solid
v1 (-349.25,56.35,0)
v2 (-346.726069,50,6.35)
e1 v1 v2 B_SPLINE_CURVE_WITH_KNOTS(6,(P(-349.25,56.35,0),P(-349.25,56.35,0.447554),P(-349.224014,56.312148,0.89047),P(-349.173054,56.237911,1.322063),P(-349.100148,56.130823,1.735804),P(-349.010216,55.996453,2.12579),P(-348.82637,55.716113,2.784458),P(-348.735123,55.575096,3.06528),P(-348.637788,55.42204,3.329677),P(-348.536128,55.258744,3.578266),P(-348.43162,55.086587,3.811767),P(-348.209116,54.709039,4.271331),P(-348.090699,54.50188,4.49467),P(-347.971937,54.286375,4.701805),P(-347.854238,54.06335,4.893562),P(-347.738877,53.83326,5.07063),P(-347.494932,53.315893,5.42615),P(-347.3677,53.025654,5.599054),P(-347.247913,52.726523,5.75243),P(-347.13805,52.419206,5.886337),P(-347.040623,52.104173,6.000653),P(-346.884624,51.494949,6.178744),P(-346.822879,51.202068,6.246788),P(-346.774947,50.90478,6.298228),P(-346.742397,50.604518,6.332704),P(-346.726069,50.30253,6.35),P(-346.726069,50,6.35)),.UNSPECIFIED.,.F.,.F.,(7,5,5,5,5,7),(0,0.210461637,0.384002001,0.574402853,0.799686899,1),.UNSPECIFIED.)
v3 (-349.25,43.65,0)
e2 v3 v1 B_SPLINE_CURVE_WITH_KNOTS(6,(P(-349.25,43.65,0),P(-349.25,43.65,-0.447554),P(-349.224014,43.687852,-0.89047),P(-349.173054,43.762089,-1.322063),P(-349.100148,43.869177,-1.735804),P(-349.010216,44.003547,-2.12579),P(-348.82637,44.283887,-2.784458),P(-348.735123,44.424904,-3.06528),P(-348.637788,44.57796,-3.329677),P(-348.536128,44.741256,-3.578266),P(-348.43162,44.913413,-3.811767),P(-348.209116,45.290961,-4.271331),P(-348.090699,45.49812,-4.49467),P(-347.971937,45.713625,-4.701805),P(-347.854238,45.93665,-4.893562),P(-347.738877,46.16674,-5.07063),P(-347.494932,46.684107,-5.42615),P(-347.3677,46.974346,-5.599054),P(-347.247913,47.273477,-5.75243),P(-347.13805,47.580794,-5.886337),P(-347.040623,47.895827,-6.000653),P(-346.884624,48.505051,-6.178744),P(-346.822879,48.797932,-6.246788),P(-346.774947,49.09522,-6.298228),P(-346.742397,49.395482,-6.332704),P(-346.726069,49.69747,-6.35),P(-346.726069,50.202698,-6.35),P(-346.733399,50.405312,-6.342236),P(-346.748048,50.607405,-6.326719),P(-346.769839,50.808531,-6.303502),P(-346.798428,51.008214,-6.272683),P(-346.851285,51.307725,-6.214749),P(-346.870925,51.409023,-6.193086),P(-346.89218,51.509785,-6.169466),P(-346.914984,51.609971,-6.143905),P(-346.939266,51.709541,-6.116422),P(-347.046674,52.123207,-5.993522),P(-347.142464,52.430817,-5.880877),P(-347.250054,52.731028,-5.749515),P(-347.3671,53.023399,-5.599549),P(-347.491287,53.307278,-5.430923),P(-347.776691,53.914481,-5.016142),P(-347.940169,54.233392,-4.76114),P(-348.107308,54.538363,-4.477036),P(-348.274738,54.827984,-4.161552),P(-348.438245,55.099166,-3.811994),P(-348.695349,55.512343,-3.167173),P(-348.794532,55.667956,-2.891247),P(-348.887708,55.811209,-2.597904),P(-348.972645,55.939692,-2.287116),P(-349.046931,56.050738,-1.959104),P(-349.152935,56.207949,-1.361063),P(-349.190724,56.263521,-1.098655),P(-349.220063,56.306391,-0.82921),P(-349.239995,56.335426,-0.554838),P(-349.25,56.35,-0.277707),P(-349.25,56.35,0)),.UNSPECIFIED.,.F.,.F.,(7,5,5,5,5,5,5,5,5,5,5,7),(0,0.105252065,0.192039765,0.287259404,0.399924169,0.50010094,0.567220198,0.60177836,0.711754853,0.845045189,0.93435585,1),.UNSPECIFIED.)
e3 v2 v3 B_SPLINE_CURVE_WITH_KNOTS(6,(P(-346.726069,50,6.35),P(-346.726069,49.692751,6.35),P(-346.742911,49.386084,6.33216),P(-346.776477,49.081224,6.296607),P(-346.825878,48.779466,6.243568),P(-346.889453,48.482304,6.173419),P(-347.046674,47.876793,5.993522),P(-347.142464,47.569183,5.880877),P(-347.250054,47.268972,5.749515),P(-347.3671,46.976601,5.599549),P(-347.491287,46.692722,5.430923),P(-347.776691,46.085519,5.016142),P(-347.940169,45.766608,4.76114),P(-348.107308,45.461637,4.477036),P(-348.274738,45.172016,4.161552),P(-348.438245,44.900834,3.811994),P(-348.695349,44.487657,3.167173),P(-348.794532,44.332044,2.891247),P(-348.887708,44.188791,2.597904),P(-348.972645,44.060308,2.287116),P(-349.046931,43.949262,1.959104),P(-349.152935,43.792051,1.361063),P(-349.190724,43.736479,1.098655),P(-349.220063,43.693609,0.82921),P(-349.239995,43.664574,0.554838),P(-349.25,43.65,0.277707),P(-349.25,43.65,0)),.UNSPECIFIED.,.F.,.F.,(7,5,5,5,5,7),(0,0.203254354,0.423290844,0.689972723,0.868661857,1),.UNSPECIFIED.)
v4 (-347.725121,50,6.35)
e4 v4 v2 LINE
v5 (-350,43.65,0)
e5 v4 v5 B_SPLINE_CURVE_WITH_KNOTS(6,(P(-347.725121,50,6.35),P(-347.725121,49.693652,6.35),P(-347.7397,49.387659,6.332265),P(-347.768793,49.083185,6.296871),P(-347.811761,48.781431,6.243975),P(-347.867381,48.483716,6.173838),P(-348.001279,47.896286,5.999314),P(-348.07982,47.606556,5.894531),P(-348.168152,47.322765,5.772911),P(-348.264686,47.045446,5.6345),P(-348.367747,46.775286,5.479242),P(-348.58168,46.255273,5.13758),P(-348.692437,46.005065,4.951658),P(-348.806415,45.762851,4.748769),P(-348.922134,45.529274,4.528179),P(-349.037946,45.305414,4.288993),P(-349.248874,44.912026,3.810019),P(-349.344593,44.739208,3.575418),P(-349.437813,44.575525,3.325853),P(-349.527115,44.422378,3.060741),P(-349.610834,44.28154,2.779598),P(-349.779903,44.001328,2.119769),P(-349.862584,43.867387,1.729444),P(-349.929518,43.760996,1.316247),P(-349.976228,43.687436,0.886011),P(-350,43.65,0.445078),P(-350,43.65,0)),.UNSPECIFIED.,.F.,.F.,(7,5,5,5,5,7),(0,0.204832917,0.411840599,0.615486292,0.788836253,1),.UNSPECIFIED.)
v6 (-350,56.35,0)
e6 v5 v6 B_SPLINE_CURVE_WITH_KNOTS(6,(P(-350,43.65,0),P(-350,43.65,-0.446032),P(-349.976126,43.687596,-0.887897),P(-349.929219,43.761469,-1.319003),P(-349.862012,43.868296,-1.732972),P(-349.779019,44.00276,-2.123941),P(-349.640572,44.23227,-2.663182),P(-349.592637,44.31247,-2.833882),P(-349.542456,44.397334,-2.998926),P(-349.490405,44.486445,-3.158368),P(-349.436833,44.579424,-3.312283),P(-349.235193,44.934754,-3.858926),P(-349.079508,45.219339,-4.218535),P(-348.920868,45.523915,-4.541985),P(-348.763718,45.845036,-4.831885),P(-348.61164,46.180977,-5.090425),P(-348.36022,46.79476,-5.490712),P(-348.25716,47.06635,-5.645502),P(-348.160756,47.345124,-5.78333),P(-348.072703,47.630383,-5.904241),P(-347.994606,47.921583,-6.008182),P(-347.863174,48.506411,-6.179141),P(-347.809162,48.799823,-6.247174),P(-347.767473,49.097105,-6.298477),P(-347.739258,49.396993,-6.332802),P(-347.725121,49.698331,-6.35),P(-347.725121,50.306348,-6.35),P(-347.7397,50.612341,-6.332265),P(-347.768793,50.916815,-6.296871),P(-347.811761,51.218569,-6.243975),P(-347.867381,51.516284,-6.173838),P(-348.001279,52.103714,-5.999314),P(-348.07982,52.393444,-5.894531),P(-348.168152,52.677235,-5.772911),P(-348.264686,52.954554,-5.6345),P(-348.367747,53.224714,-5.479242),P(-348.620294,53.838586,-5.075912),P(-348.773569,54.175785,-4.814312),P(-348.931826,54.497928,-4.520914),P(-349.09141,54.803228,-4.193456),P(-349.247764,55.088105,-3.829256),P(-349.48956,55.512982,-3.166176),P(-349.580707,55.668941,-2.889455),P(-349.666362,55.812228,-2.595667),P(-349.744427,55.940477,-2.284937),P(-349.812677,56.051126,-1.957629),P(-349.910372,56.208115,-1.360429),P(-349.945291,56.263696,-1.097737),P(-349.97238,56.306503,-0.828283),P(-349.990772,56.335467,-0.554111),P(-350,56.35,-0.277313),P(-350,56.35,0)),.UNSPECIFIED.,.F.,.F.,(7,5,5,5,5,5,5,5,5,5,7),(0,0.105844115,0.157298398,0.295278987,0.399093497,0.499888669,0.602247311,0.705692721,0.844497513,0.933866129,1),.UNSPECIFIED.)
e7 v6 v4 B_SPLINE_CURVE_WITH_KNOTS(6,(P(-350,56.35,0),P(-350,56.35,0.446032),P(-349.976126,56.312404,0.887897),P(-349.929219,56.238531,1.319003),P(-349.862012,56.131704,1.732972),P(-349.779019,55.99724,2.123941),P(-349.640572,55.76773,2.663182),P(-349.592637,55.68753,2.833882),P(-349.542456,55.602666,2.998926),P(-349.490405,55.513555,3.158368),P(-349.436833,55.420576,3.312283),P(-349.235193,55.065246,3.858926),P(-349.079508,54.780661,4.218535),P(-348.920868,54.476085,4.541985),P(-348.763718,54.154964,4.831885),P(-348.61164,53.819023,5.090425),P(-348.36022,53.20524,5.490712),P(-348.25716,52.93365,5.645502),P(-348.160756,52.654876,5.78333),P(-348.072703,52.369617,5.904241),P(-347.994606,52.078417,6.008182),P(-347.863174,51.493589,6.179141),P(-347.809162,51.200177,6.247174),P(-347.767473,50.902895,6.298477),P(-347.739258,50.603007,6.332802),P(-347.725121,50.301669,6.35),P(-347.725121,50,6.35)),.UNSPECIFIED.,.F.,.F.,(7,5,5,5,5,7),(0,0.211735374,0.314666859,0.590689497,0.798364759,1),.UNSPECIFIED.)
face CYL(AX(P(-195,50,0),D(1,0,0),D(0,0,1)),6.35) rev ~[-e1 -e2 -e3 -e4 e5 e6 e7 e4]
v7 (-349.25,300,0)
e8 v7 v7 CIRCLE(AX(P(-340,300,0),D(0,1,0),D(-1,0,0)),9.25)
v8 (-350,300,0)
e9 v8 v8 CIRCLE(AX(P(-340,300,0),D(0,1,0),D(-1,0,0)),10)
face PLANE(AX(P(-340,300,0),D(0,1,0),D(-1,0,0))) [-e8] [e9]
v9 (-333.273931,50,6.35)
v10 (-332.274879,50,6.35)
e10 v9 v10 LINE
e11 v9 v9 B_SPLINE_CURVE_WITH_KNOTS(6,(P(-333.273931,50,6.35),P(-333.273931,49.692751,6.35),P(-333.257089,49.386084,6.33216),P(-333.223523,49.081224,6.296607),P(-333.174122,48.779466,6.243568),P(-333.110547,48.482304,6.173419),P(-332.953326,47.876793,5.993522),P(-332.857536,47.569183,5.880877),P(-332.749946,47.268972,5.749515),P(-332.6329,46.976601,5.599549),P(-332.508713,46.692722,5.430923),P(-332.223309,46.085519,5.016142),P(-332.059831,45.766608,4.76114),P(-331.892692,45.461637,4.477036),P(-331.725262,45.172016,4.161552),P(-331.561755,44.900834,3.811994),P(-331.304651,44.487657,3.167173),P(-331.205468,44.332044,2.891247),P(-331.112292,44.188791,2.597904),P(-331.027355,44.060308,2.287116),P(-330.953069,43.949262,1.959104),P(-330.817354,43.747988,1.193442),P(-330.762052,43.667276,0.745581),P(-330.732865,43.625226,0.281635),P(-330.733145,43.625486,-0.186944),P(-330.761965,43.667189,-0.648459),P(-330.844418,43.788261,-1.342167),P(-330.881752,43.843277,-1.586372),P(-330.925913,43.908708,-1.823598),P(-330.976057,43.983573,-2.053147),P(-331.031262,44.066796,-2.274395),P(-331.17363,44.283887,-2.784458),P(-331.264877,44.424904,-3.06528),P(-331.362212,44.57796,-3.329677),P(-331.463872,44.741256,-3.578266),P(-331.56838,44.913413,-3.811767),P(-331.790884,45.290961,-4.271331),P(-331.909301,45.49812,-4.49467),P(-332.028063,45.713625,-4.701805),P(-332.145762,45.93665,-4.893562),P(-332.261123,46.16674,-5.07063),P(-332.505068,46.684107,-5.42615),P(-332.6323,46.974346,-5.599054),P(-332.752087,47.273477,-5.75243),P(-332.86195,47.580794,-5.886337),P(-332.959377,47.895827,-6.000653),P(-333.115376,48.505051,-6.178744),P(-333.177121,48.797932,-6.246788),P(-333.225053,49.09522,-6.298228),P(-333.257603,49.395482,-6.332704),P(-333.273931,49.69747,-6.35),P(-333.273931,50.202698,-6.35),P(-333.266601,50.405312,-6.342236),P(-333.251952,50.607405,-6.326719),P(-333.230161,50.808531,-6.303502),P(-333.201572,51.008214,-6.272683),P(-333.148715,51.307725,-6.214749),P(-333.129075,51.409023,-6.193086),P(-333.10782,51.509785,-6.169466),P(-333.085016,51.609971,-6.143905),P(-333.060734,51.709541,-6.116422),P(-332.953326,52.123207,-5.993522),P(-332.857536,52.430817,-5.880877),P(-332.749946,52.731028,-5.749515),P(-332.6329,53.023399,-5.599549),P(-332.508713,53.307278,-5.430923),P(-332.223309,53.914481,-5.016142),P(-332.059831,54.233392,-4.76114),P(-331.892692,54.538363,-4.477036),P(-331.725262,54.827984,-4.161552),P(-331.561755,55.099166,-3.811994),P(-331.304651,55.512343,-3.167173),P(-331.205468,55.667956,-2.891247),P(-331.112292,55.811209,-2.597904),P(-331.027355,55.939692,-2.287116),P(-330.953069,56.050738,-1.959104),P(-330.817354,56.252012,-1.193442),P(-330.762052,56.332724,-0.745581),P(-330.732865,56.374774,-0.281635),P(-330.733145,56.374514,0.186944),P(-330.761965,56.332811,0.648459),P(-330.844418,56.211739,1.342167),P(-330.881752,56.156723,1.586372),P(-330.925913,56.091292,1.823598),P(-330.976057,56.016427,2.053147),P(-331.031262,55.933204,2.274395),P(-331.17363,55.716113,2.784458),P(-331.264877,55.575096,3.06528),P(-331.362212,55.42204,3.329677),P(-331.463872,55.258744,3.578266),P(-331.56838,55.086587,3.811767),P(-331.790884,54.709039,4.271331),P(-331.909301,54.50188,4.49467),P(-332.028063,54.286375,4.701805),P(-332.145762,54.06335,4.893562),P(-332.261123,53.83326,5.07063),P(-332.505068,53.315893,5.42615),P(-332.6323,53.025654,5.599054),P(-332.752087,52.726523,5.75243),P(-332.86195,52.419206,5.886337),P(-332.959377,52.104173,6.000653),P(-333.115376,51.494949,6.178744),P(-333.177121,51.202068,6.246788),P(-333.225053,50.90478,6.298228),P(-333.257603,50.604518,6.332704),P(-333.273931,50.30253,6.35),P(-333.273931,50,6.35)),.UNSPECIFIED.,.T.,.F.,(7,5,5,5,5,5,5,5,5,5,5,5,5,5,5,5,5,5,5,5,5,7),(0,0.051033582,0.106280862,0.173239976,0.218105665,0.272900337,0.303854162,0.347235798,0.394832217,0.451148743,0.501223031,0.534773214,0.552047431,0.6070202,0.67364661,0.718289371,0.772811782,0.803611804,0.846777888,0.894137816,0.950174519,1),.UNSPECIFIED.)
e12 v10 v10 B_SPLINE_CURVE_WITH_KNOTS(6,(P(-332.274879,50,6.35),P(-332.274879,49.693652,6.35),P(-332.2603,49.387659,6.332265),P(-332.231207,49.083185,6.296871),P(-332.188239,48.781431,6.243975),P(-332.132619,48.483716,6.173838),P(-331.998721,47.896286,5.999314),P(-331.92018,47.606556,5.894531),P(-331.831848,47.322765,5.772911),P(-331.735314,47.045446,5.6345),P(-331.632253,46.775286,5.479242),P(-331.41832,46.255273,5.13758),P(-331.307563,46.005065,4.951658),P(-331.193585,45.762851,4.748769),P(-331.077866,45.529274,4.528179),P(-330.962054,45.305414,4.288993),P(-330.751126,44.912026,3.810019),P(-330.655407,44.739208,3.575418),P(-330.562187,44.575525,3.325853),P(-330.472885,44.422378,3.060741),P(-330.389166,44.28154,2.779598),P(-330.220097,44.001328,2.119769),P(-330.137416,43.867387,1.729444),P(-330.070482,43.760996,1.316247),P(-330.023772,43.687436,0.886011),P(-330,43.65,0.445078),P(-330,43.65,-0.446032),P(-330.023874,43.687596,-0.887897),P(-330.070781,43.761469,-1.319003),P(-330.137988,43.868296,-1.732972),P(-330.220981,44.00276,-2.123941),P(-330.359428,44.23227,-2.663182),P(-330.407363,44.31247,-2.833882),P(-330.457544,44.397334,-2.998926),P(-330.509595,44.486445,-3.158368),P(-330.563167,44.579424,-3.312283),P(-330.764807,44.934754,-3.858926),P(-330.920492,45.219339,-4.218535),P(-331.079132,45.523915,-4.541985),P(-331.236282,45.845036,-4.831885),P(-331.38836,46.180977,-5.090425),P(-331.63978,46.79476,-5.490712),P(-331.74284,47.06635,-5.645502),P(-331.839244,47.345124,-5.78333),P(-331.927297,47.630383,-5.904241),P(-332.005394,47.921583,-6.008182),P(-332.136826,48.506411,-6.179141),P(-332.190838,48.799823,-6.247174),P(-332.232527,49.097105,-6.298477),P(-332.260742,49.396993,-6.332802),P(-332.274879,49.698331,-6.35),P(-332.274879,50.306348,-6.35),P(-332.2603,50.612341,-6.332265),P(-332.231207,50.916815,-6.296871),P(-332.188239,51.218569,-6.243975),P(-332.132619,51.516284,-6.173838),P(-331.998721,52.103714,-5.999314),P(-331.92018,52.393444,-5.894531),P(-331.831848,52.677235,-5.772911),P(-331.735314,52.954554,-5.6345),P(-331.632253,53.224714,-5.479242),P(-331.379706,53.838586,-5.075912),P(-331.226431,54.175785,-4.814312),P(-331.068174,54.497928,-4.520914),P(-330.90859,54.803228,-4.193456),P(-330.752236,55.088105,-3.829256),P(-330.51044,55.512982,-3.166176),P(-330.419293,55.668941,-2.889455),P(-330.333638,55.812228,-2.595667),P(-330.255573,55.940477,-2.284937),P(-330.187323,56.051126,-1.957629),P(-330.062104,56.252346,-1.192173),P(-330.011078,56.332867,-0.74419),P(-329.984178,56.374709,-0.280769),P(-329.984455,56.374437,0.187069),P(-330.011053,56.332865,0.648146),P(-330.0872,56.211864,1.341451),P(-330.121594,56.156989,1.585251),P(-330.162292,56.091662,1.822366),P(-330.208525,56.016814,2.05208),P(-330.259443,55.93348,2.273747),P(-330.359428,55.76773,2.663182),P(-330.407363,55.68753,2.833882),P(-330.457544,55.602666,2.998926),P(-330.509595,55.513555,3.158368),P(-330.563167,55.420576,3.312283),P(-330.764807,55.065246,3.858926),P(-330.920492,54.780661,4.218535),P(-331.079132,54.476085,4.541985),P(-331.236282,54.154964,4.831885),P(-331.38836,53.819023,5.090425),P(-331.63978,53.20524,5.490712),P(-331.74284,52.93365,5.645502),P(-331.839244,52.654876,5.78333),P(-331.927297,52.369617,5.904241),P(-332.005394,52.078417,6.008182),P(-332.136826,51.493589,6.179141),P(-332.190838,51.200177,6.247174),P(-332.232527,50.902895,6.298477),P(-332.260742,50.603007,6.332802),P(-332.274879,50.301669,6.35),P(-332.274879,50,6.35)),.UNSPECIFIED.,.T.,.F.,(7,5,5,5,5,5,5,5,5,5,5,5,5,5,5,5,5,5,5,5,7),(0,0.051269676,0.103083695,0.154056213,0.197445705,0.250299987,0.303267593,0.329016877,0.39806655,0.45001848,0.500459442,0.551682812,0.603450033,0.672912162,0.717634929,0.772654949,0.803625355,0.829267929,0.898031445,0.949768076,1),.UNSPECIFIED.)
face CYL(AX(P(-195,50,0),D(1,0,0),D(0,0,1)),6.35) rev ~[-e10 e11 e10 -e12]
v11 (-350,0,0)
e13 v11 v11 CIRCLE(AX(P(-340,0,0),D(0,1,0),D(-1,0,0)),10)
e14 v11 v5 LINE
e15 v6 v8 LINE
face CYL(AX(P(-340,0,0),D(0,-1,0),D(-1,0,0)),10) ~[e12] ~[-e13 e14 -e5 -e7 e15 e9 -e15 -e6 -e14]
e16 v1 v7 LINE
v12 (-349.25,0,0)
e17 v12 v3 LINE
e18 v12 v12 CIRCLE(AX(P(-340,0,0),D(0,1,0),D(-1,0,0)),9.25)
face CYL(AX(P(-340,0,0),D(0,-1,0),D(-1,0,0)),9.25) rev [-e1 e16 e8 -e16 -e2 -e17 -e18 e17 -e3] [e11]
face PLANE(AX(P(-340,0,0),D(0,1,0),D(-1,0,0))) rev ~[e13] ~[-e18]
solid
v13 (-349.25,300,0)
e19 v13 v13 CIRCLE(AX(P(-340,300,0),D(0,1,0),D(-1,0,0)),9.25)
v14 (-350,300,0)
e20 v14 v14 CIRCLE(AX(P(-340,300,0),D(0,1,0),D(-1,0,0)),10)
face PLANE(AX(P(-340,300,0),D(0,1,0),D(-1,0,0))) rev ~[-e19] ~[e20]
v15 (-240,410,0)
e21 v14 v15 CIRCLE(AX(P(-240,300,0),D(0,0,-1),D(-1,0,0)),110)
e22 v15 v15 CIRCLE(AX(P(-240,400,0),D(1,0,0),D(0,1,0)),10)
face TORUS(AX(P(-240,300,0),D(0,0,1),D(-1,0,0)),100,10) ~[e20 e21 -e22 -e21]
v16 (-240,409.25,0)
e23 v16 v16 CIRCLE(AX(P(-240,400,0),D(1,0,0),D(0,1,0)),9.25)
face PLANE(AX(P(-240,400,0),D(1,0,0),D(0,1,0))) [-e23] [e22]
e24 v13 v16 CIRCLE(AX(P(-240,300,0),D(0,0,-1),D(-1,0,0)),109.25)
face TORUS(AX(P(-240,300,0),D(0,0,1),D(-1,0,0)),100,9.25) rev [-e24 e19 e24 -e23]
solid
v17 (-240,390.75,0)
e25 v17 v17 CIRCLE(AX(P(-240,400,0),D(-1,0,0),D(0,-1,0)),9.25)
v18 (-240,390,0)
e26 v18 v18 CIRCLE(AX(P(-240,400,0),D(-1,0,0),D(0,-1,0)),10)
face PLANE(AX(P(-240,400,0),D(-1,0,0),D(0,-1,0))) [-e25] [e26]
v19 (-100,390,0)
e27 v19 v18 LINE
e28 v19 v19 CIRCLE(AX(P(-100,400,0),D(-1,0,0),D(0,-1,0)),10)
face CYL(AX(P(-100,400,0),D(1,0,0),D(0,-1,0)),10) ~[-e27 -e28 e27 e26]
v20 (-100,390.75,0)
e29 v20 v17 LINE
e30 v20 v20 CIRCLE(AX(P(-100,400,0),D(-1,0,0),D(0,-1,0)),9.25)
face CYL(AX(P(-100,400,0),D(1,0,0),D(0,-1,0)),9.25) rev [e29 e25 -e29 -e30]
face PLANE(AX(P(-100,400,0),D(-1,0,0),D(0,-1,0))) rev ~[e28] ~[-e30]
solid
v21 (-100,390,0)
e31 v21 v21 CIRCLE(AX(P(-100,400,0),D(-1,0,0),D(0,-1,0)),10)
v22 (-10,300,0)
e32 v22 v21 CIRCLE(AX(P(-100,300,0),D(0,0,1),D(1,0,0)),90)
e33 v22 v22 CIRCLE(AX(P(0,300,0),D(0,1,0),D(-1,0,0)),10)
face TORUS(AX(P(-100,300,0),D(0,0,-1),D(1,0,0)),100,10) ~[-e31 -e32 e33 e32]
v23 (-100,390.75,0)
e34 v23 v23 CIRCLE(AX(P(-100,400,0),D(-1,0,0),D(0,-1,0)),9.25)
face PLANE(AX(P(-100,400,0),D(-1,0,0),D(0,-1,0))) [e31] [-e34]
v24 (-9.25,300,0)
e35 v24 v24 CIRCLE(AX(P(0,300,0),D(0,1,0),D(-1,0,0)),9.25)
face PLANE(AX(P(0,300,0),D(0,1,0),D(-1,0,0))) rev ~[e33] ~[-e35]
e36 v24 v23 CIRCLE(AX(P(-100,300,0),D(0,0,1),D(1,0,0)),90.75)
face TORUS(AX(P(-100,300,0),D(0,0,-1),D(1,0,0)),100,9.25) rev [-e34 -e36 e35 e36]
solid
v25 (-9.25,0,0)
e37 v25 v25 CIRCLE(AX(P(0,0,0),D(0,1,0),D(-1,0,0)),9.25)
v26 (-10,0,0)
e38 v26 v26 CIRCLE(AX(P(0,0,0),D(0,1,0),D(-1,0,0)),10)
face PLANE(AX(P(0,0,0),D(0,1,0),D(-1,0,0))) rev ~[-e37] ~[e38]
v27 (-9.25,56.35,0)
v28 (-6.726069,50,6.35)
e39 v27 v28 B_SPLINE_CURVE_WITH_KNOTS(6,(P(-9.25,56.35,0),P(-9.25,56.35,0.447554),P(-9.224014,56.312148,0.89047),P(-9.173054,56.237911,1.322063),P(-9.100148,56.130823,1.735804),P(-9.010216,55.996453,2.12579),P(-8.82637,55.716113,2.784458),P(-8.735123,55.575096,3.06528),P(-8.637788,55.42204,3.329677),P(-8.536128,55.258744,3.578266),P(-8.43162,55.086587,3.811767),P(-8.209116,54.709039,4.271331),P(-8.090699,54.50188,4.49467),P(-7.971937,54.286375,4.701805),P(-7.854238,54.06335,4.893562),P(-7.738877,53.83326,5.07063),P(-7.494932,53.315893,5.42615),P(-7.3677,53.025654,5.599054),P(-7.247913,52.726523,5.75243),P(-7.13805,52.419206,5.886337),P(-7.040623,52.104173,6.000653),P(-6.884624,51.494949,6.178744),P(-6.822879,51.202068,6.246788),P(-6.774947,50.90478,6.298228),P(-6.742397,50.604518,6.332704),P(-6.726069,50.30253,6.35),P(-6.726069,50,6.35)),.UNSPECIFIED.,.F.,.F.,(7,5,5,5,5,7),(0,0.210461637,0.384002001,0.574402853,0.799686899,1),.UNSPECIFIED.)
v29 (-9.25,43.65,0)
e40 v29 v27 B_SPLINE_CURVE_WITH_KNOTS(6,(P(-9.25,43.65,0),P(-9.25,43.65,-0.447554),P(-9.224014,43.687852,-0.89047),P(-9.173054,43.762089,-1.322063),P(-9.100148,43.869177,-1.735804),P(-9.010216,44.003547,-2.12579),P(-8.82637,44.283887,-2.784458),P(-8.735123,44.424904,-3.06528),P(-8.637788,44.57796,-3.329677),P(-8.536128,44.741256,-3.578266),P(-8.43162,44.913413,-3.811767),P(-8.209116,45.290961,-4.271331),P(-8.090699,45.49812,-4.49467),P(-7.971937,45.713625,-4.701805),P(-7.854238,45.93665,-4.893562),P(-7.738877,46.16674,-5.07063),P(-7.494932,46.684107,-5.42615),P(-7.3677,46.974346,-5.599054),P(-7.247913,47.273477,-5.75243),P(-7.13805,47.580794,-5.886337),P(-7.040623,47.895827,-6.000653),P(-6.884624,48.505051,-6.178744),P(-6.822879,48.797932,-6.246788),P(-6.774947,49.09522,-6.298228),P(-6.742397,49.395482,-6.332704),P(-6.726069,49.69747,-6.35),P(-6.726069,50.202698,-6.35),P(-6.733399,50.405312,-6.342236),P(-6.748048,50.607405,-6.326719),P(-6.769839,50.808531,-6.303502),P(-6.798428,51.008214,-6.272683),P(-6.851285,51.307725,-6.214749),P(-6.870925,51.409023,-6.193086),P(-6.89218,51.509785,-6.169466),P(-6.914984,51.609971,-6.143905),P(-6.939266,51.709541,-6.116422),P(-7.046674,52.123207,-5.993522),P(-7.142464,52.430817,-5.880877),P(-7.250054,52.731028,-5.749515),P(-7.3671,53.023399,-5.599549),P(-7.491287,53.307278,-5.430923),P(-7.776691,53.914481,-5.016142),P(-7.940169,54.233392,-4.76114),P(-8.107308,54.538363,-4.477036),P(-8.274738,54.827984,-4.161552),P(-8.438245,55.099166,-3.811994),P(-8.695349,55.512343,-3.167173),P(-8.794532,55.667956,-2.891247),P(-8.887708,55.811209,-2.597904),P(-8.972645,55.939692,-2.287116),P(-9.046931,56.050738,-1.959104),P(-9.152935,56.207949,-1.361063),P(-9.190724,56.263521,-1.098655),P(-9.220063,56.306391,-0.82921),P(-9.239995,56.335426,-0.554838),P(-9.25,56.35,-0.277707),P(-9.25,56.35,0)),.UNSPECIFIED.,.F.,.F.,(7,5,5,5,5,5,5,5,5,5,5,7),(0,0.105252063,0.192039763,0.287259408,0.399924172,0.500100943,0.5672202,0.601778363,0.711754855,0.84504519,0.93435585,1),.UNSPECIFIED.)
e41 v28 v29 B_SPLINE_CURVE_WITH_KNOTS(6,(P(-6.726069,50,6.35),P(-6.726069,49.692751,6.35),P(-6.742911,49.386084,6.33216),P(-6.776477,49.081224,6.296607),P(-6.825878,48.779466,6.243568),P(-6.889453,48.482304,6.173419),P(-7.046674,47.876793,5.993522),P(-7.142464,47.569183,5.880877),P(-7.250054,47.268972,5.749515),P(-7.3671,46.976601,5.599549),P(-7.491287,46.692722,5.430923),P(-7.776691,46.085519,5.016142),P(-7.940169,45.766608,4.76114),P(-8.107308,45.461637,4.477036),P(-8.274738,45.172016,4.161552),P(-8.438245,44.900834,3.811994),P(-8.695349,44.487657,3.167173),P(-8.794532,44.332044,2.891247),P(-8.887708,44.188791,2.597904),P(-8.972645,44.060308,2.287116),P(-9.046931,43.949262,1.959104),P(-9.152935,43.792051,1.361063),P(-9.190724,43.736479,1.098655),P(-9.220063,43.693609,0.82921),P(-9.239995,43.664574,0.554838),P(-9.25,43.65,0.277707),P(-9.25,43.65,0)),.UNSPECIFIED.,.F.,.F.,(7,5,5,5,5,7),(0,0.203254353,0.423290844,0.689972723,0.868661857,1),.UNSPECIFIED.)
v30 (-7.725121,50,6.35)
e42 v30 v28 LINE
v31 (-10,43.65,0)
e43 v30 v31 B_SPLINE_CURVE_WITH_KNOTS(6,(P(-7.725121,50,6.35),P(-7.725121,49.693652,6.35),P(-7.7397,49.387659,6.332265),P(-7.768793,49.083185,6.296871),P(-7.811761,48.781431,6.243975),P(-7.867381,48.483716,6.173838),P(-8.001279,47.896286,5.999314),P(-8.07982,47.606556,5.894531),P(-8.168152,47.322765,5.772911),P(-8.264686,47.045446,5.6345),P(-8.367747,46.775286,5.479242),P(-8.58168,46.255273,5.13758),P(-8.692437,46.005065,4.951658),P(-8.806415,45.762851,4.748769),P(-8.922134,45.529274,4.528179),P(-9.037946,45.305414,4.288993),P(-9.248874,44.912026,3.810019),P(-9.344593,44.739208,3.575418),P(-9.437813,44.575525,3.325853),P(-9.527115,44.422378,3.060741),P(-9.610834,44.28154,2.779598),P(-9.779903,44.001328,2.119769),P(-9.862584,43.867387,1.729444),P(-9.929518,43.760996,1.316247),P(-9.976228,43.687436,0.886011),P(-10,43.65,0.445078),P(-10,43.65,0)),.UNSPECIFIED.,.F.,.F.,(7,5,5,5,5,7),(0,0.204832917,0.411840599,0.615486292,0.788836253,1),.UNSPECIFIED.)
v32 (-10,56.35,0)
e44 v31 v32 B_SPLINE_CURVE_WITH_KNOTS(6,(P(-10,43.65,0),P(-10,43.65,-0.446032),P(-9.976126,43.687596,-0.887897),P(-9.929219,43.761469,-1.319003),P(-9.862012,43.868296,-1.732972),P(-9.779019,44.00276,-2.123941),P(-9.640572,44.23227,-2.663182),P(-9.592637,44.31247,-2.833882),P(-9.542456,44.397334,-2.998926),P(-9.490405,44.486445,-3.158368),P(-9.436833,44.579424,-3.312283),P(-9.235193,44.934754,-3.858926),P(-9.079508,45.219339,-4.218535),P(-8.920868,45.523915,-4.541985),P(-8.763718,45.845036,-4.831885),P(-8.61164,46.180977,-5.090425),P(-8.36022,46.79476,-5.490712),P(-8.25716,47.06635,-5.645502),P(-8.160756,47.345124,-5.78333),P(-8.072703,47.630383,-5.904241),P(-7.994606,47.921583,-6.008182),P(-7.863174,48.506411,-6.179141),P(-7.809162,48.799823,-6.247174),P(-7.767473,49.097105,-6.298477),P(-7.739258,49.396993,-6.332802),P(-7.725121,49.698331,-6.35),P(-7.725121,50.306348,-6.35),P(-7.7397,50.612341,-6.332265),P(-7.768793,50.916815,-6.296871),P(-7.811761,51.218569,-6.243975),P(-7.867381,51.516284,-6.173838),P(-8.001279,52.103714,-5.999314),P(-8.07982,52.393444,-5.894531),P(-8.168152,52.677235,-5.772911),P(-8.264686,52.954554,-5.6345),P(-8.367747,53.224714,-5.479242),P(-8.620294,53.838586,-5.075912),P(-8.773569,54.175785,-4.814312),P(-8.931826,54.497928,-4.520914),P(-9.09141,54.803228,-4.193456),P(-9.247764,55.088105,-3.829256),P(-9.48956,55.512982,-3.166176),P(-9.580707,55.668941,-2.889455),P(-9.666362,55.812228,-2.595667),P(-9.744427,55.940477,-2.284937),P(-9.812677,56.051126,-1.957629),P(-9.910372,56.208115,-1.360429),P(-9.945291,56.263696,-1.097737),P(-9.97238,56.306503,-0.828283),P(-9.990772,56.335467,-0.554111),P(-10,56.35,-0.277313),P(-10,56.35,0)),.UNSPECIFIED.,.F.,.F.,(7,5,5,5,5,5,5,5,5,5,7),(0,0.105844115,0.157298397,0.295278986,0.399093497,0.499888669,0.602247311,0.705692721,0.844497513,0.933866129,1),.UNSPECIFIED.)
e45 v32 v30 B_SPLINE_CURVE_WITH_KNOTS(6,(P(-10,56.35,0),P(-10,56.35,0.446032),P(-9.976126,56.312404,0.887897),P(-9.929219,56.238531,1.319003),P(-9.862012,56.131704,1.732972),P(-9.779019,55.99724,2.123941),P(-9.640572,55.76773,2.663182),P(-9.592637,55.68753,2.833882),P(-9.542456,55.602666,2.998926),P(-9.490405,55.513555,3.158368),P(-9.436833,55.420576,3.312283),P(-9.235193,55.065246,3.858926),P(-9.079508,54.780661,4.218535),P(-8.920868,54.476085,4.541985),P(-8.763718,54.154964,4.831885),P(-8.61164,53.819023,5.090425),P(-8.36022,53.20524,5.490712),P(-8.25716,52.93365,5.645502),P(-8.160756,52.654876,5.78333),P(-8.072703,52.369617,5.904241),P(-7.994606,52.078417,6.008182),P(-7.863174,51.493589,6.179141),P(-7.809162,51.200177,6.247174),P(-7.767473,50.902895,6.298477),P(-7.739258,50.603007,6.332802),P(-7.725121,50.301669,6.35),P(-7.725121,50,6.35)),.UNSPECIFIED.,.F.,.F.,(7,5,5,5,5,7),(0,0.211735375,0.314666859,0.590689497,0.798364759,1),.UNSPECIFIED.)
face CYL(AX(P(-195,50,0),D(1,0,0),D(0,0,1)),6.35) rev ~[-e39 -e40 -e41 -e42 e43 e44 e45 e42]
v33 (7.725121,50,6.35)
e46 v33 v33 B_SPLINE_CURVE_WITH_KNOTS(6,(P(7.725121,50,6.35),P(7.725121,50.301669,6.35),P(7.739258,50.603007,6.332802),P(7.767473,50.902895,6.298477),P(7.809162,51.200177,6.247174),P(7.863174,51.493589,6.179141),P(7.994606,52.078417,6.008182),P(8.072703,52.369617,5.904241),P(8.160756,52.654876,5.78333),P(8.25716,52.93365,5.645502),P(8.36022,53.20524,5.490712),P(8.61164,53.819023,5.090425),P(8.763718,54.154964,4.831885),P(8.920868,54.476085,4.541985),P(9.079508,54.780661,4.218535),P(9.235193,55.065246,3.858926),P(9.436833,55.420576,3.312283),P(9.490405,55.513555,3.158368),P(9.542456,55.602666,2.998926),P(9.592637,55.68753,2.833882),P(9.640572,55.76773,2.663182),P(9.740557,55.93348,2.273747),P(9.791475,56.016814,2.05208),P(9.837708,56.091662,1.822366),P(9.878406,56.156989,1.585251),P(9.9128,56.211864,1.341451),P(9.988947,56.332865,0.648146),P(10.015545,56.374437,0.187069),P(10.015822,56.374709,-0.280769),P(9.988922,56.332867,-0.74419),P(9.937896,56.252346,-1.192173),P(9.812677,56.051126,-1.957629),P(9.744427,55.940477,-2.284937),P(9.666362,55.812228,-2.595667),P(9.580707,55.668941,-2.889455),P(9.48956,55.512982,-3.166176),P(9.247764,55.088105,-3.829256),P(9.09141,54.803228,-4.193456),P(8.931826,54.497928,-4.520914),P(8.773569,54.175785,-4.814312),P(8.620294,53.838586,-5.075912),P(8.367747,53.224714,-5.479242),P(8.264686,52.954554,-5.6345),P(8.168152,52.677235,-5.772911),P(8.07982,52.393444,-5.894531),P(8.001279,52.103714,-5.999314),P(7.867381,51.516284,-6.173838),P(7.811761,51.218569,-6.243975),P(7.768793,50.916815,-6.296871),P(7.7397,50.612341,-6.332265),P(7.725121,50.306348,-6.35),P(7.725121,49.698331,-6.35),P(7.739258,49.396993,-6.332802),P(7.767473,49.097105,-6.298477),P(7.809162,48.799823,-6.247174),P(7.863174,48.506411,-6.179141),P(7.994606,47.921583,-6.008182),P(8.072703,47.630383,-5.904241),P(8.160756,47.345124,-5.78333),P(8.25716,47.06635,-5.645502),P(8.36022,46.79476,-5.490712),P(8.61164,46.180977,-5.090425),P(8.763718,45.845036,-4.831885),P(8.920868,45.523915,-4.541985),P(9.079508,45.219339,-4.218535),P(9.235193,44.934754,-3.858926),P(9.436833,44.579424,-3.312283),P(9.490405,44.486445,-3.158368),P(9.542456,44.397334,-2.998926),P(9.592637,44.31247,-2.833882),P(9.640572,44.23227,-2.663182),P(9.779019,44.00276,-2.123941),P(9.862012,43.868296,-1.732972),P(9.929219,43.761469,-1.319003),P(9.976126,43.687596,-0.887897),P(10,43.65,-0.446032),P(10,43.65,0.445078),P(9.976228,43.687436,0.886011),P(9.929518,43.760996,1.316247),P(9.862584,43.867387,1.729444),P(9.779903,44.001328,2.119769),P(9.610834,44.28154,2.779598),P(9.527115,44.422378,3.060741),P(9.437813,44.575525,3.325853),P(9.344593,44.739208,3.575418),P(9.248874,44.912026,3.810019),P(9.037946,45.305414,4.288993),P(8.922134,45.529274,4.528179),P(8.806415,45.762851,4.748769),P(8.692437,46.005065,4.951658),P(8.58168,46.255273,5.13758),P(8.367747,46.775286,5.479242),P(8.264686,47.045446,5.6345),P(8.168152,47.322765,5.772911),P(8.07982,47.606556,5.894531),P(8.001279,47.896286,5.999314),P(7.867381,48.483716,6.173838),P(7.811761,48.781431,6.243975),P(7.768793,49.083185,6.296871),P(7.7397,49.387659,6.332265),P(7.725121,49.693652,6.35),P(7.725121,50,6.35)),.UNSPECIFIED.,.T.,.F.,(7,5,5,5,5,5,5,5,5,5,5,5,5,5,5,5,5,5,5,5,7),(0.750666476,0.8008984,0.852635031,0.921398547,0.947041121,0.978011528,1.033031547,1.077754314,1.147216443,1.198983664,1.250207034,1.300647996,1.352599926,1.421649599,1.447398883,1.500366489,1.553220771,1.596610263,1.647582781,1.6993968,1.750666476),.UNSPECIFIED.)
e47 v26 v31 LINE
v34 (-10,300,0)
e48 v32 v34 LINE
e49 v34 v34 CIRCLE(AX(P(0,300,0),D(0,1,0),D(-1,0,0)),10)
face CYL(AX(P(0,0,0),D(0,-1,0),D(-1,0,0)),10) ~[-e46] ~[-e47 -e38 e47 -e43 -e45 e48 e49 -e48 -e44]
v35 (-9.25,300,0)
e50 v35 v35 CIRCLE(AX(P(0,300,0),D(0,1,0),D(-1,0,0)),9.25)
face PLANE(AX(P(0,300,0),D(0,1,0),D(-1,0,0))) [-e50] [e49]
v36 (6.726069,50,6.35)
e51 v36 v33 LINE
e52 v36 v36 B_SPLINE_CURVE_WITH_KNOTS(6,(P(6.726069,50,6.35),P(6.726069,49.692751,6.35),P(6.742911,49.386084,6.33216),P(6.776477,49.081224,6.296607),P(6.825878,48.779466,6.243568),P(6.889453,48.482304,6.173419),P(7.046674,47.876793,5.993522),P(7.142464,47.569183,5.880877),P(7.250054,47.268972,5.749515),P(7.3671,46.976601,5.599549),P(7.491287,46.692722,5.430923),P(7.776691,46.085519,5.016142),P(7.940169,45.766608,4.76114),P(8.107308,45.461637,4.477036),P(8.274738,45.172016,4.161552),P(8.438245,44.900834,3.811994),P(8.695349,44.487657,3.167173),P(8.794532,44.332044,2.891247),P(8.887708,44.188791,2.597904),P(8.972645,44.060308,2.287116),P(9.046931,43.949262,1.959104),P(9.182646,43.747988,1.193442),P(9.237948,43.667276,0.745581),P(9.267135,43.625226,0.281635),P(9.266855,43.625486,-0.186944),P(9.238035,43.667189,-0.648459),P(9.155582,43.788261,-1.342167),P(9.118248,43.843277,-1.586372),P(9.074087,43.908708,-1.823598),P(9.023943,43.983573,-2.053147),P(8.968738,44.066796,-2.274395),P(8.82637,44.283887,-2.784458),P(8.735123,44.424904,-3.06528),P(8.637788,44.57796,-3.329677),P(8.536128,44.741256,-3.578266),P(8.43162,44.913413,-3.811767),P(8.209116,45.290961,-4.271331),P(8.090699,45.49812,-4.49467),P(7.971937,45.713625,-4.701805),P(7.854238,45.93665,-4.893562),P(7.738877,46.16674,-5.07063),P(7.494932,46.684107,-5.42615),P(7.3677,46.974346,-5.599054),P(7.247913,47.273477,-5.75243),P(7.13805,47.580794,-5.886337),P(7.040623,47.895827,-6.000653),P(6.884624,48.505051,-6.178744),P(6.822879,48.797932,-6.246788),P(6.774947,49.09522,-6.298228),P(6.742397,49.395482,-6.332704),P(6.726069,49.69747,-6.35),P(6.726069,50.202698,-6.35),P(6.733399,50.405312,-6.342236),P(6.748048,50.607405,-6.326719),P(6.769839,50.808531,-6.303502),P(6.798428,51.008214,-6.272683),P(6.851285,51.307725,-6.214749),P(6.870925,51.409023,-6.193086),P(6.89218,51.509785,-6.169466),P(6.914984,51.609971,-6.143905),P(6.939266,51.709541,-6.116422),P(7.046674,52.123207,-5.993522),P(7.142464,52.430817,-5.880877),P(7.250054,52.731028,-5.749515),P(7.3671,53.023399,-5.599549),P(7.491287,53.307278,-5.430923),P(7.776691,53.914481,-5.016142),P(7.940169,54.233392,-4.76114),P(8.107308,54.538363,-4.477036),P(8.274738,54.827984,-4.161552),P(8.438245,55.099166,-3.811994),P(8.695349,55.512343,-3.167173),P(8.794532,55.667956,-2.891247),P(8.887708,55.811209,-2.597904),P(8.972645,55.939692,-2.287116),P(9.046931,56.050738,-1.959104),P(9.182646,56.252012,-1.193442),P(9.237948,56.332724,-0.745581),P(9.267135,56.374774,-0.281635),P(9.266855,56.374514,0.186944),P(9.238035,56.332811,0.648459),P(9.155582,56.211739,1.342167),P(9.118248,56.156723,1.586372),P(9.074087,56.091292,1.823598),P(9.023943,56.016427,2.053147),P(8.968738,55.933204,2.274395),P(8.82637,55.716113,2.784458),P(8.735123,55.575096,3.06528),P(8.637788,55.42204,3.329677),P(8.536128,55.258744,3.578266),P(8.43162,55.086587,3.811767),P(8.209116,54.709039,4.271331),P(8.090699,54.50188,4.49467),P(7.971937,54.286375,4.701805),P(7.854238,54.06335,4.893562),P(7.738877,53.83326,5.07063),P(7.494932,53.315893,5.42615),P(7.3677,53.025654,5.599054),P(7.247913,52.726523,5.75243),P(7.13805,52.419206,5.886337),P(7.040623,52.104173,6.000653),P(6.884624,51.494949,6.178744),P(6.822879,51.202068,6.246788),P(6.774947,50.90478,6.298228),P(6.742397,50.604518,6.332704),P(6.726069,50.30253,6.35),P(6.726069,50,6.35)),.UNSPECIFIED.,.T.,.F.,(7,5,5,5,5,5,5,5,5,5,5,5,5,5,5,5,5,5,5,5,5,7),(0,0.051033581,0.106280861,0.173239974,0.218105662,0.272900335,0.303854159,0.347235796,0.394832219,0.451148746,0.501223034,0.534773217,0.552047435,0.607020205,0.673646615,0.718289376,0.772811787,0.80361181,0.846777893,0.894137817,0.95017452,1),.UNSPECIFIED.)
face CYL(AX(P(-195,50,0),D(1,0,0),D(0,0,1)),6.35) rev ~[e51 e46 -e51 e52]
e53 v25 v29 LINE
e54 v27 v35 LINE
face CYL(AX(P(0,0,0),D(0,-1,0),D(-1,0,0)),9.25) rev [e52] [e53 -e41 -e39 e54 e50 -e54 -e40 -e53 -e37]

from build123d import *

# Parameters (mm, degrees)
SKETCH1_R                        = 10
SKETCH1_R_2                      = 9.25
ROUND_TUBE_DO20_DI18_5_1_DEPTH   = 300
SKETCH1_ON_SEGMENT_2_R           = 10
SKETCH1_ON_SEGMENT_2_R_2         = 9.25
ROUND_TUBE_DO20_DI18_5_1_2_ANGLE = 90
SKETCH1_ON_SEGMENT_3_R           = 10
SKETCH1_ON_SEGMENT_3_R_2         = 9.25
ROUND_TUBE_DO20_DI18_5_1_3_DEPTH = 140
SKETCH1_ON_SEGMENT_4_R           = 10
SKETCH1_ON_SEGMENT_4_R_2         = 9.25
ROUND_TUBE_DO20_DI18_5_1_4_ANGLE = 90
SKETCH1_ON_SEGMENT_5_R           = 10
SKETCH1_ON_SEGMENT_5_R_2         = 9.25
ROUND_TUBE_DO20_DI18_5_1_5_DEPTH = 300
SKETCH6_W                        = 6.35
SKETCH6_H                        = 410


with BuildPart() as part:
    # Sketch1 → Round_tube DO20_DI18_5(1) (new body)
    with BuildSketch(Plane(origin=(0, 0, 0), x_dir=(-1, 0, 0), z_dir=(0, 1, 0))):
        Circle(SKETCH1_R)
        Circle(SKETCH1_R_2, mode=Mode.SUBTRACT)
    extrude(amount=ROUND_TUBE_DO20_DI18_5_1_DEPTH)


with BuildPart() as body_2:
    # Sketch1 on segment 2 (carried to the start of arc 2) → Round_tube DO20_DI18_5_1 2 (revolve)
    with BuildSketch(Plane(origin=(0, 300, 0), x_dir=(-1, 0, 0), z_dir=(0, 1, 0))):
        Circle(SKETCH1_ON_SEGMENT_2_R)
        Circle(SKETCH1_ON_SEGMENT_2_R_2, mode=Mode.SUBTRACT)
    revolve(axis=Axis((-100, 300, 0), (0, 0, 1)), revolution_arc=ROUND_TUBE_DO20_DI18_5_1_2_ANGLE)


with BuildPart() as body_3:
    # Sketch1 on segment 3 (carried to segment 3) → Round_tube DO20_DI18_5_1 3 (new body)
    with BuildSketch(Plane(origin=(-100, 400, 0), x_dir=(0, -1, 0), z_dir=(-1, 0, 0))):
        Circle(SKETCH1_ON_SEGMENT_3_R)
        Circle(SKETCH1_ON_SEGMENT_3_R_2, mode=Mode.SUBTRACT)
    extrude(amount=ROUND_TUBE_DO20_DI18_5_1_3_DEPTH)


with BuildPart() as body_4:
    # Sketch1 on segment 4 (carried to the start of arc 4) → Round_tube DO20_DI18_5_1 4 (revolve)
    with BuildSketch(Plane(origin=(-340, 300, 0), x_dir=(-1, 0, 0), z_dir=(0, 1, 0))):
        Circle(SKETCH1_ON_SEGMENT_4_R)
        Circle(SKETCH1_ON_SEGMENT_4_R_2, mode=Mode.SUBTRACT)
    revolve(axis=Axis((-240, 300, 0), (0, 0, -1)), revolution_arc=ROUND_TUBE_DO20_DI18_5_1_4_ANGLE)


with BuildPart() as body_5:
    # Sketch1 on segment 5 (carried to segment 5) → Round_tube DO20_DI18_5_1 5 (new body)
    with BuildSketch(Plane(origin=(-340, 0, 0), x_dir=(-1, 0, 0), z_dir=(0, 1, 0))):
        Circle(SKETCH1_ON_SEGMENT_5_R)
        Circle(SKETCH1_ON_SEGMENT_5_R_2, mode=Mode.SUBTRACT)
    extrude(amount=ROUND_TUBE_DO20_DI18_5_1_5_DEPTH)


with BuildPart() as f_12_0mm_dowel_hole2_tool:
    # Sketch6 → Ø12.0mm Dowel Hole2 (revolve)
    with BuildSketch(Plane(origin=(-400, 50, 0), x_dir=(0, 0, 1), z_dir=(0, 1, 0))):
        with Locations((3.175, 205)):
            Rectangle(SKETCH6_W, SKETCH6_H)
    revolve(axis=Axis((-406.35, 50, 0), (1, 0, 0)))


with BuildPart() as part_1:
    add(part.part)

    # Ø12.0mm Dowel Hole2: cut by f_12_0mm_dowel_hole2_tool
    add(f_12_0mm_dowel_hole2_tool.part, mode=Mode.SUBTRACT)


with BuildPart() as body_5_1:
    add(body_5.part)

    # Ø12.0mm Dowel Hole2: cut by f_12_0mm_dowel_hole2_tool
    add(f_12_0mm_dowel_hole2_tool.part, mode=Mode.SUBTRACT)


solid = Compound([body_2.part, body_3.part, body_4.part, part_1.part, body_5_1.part])
